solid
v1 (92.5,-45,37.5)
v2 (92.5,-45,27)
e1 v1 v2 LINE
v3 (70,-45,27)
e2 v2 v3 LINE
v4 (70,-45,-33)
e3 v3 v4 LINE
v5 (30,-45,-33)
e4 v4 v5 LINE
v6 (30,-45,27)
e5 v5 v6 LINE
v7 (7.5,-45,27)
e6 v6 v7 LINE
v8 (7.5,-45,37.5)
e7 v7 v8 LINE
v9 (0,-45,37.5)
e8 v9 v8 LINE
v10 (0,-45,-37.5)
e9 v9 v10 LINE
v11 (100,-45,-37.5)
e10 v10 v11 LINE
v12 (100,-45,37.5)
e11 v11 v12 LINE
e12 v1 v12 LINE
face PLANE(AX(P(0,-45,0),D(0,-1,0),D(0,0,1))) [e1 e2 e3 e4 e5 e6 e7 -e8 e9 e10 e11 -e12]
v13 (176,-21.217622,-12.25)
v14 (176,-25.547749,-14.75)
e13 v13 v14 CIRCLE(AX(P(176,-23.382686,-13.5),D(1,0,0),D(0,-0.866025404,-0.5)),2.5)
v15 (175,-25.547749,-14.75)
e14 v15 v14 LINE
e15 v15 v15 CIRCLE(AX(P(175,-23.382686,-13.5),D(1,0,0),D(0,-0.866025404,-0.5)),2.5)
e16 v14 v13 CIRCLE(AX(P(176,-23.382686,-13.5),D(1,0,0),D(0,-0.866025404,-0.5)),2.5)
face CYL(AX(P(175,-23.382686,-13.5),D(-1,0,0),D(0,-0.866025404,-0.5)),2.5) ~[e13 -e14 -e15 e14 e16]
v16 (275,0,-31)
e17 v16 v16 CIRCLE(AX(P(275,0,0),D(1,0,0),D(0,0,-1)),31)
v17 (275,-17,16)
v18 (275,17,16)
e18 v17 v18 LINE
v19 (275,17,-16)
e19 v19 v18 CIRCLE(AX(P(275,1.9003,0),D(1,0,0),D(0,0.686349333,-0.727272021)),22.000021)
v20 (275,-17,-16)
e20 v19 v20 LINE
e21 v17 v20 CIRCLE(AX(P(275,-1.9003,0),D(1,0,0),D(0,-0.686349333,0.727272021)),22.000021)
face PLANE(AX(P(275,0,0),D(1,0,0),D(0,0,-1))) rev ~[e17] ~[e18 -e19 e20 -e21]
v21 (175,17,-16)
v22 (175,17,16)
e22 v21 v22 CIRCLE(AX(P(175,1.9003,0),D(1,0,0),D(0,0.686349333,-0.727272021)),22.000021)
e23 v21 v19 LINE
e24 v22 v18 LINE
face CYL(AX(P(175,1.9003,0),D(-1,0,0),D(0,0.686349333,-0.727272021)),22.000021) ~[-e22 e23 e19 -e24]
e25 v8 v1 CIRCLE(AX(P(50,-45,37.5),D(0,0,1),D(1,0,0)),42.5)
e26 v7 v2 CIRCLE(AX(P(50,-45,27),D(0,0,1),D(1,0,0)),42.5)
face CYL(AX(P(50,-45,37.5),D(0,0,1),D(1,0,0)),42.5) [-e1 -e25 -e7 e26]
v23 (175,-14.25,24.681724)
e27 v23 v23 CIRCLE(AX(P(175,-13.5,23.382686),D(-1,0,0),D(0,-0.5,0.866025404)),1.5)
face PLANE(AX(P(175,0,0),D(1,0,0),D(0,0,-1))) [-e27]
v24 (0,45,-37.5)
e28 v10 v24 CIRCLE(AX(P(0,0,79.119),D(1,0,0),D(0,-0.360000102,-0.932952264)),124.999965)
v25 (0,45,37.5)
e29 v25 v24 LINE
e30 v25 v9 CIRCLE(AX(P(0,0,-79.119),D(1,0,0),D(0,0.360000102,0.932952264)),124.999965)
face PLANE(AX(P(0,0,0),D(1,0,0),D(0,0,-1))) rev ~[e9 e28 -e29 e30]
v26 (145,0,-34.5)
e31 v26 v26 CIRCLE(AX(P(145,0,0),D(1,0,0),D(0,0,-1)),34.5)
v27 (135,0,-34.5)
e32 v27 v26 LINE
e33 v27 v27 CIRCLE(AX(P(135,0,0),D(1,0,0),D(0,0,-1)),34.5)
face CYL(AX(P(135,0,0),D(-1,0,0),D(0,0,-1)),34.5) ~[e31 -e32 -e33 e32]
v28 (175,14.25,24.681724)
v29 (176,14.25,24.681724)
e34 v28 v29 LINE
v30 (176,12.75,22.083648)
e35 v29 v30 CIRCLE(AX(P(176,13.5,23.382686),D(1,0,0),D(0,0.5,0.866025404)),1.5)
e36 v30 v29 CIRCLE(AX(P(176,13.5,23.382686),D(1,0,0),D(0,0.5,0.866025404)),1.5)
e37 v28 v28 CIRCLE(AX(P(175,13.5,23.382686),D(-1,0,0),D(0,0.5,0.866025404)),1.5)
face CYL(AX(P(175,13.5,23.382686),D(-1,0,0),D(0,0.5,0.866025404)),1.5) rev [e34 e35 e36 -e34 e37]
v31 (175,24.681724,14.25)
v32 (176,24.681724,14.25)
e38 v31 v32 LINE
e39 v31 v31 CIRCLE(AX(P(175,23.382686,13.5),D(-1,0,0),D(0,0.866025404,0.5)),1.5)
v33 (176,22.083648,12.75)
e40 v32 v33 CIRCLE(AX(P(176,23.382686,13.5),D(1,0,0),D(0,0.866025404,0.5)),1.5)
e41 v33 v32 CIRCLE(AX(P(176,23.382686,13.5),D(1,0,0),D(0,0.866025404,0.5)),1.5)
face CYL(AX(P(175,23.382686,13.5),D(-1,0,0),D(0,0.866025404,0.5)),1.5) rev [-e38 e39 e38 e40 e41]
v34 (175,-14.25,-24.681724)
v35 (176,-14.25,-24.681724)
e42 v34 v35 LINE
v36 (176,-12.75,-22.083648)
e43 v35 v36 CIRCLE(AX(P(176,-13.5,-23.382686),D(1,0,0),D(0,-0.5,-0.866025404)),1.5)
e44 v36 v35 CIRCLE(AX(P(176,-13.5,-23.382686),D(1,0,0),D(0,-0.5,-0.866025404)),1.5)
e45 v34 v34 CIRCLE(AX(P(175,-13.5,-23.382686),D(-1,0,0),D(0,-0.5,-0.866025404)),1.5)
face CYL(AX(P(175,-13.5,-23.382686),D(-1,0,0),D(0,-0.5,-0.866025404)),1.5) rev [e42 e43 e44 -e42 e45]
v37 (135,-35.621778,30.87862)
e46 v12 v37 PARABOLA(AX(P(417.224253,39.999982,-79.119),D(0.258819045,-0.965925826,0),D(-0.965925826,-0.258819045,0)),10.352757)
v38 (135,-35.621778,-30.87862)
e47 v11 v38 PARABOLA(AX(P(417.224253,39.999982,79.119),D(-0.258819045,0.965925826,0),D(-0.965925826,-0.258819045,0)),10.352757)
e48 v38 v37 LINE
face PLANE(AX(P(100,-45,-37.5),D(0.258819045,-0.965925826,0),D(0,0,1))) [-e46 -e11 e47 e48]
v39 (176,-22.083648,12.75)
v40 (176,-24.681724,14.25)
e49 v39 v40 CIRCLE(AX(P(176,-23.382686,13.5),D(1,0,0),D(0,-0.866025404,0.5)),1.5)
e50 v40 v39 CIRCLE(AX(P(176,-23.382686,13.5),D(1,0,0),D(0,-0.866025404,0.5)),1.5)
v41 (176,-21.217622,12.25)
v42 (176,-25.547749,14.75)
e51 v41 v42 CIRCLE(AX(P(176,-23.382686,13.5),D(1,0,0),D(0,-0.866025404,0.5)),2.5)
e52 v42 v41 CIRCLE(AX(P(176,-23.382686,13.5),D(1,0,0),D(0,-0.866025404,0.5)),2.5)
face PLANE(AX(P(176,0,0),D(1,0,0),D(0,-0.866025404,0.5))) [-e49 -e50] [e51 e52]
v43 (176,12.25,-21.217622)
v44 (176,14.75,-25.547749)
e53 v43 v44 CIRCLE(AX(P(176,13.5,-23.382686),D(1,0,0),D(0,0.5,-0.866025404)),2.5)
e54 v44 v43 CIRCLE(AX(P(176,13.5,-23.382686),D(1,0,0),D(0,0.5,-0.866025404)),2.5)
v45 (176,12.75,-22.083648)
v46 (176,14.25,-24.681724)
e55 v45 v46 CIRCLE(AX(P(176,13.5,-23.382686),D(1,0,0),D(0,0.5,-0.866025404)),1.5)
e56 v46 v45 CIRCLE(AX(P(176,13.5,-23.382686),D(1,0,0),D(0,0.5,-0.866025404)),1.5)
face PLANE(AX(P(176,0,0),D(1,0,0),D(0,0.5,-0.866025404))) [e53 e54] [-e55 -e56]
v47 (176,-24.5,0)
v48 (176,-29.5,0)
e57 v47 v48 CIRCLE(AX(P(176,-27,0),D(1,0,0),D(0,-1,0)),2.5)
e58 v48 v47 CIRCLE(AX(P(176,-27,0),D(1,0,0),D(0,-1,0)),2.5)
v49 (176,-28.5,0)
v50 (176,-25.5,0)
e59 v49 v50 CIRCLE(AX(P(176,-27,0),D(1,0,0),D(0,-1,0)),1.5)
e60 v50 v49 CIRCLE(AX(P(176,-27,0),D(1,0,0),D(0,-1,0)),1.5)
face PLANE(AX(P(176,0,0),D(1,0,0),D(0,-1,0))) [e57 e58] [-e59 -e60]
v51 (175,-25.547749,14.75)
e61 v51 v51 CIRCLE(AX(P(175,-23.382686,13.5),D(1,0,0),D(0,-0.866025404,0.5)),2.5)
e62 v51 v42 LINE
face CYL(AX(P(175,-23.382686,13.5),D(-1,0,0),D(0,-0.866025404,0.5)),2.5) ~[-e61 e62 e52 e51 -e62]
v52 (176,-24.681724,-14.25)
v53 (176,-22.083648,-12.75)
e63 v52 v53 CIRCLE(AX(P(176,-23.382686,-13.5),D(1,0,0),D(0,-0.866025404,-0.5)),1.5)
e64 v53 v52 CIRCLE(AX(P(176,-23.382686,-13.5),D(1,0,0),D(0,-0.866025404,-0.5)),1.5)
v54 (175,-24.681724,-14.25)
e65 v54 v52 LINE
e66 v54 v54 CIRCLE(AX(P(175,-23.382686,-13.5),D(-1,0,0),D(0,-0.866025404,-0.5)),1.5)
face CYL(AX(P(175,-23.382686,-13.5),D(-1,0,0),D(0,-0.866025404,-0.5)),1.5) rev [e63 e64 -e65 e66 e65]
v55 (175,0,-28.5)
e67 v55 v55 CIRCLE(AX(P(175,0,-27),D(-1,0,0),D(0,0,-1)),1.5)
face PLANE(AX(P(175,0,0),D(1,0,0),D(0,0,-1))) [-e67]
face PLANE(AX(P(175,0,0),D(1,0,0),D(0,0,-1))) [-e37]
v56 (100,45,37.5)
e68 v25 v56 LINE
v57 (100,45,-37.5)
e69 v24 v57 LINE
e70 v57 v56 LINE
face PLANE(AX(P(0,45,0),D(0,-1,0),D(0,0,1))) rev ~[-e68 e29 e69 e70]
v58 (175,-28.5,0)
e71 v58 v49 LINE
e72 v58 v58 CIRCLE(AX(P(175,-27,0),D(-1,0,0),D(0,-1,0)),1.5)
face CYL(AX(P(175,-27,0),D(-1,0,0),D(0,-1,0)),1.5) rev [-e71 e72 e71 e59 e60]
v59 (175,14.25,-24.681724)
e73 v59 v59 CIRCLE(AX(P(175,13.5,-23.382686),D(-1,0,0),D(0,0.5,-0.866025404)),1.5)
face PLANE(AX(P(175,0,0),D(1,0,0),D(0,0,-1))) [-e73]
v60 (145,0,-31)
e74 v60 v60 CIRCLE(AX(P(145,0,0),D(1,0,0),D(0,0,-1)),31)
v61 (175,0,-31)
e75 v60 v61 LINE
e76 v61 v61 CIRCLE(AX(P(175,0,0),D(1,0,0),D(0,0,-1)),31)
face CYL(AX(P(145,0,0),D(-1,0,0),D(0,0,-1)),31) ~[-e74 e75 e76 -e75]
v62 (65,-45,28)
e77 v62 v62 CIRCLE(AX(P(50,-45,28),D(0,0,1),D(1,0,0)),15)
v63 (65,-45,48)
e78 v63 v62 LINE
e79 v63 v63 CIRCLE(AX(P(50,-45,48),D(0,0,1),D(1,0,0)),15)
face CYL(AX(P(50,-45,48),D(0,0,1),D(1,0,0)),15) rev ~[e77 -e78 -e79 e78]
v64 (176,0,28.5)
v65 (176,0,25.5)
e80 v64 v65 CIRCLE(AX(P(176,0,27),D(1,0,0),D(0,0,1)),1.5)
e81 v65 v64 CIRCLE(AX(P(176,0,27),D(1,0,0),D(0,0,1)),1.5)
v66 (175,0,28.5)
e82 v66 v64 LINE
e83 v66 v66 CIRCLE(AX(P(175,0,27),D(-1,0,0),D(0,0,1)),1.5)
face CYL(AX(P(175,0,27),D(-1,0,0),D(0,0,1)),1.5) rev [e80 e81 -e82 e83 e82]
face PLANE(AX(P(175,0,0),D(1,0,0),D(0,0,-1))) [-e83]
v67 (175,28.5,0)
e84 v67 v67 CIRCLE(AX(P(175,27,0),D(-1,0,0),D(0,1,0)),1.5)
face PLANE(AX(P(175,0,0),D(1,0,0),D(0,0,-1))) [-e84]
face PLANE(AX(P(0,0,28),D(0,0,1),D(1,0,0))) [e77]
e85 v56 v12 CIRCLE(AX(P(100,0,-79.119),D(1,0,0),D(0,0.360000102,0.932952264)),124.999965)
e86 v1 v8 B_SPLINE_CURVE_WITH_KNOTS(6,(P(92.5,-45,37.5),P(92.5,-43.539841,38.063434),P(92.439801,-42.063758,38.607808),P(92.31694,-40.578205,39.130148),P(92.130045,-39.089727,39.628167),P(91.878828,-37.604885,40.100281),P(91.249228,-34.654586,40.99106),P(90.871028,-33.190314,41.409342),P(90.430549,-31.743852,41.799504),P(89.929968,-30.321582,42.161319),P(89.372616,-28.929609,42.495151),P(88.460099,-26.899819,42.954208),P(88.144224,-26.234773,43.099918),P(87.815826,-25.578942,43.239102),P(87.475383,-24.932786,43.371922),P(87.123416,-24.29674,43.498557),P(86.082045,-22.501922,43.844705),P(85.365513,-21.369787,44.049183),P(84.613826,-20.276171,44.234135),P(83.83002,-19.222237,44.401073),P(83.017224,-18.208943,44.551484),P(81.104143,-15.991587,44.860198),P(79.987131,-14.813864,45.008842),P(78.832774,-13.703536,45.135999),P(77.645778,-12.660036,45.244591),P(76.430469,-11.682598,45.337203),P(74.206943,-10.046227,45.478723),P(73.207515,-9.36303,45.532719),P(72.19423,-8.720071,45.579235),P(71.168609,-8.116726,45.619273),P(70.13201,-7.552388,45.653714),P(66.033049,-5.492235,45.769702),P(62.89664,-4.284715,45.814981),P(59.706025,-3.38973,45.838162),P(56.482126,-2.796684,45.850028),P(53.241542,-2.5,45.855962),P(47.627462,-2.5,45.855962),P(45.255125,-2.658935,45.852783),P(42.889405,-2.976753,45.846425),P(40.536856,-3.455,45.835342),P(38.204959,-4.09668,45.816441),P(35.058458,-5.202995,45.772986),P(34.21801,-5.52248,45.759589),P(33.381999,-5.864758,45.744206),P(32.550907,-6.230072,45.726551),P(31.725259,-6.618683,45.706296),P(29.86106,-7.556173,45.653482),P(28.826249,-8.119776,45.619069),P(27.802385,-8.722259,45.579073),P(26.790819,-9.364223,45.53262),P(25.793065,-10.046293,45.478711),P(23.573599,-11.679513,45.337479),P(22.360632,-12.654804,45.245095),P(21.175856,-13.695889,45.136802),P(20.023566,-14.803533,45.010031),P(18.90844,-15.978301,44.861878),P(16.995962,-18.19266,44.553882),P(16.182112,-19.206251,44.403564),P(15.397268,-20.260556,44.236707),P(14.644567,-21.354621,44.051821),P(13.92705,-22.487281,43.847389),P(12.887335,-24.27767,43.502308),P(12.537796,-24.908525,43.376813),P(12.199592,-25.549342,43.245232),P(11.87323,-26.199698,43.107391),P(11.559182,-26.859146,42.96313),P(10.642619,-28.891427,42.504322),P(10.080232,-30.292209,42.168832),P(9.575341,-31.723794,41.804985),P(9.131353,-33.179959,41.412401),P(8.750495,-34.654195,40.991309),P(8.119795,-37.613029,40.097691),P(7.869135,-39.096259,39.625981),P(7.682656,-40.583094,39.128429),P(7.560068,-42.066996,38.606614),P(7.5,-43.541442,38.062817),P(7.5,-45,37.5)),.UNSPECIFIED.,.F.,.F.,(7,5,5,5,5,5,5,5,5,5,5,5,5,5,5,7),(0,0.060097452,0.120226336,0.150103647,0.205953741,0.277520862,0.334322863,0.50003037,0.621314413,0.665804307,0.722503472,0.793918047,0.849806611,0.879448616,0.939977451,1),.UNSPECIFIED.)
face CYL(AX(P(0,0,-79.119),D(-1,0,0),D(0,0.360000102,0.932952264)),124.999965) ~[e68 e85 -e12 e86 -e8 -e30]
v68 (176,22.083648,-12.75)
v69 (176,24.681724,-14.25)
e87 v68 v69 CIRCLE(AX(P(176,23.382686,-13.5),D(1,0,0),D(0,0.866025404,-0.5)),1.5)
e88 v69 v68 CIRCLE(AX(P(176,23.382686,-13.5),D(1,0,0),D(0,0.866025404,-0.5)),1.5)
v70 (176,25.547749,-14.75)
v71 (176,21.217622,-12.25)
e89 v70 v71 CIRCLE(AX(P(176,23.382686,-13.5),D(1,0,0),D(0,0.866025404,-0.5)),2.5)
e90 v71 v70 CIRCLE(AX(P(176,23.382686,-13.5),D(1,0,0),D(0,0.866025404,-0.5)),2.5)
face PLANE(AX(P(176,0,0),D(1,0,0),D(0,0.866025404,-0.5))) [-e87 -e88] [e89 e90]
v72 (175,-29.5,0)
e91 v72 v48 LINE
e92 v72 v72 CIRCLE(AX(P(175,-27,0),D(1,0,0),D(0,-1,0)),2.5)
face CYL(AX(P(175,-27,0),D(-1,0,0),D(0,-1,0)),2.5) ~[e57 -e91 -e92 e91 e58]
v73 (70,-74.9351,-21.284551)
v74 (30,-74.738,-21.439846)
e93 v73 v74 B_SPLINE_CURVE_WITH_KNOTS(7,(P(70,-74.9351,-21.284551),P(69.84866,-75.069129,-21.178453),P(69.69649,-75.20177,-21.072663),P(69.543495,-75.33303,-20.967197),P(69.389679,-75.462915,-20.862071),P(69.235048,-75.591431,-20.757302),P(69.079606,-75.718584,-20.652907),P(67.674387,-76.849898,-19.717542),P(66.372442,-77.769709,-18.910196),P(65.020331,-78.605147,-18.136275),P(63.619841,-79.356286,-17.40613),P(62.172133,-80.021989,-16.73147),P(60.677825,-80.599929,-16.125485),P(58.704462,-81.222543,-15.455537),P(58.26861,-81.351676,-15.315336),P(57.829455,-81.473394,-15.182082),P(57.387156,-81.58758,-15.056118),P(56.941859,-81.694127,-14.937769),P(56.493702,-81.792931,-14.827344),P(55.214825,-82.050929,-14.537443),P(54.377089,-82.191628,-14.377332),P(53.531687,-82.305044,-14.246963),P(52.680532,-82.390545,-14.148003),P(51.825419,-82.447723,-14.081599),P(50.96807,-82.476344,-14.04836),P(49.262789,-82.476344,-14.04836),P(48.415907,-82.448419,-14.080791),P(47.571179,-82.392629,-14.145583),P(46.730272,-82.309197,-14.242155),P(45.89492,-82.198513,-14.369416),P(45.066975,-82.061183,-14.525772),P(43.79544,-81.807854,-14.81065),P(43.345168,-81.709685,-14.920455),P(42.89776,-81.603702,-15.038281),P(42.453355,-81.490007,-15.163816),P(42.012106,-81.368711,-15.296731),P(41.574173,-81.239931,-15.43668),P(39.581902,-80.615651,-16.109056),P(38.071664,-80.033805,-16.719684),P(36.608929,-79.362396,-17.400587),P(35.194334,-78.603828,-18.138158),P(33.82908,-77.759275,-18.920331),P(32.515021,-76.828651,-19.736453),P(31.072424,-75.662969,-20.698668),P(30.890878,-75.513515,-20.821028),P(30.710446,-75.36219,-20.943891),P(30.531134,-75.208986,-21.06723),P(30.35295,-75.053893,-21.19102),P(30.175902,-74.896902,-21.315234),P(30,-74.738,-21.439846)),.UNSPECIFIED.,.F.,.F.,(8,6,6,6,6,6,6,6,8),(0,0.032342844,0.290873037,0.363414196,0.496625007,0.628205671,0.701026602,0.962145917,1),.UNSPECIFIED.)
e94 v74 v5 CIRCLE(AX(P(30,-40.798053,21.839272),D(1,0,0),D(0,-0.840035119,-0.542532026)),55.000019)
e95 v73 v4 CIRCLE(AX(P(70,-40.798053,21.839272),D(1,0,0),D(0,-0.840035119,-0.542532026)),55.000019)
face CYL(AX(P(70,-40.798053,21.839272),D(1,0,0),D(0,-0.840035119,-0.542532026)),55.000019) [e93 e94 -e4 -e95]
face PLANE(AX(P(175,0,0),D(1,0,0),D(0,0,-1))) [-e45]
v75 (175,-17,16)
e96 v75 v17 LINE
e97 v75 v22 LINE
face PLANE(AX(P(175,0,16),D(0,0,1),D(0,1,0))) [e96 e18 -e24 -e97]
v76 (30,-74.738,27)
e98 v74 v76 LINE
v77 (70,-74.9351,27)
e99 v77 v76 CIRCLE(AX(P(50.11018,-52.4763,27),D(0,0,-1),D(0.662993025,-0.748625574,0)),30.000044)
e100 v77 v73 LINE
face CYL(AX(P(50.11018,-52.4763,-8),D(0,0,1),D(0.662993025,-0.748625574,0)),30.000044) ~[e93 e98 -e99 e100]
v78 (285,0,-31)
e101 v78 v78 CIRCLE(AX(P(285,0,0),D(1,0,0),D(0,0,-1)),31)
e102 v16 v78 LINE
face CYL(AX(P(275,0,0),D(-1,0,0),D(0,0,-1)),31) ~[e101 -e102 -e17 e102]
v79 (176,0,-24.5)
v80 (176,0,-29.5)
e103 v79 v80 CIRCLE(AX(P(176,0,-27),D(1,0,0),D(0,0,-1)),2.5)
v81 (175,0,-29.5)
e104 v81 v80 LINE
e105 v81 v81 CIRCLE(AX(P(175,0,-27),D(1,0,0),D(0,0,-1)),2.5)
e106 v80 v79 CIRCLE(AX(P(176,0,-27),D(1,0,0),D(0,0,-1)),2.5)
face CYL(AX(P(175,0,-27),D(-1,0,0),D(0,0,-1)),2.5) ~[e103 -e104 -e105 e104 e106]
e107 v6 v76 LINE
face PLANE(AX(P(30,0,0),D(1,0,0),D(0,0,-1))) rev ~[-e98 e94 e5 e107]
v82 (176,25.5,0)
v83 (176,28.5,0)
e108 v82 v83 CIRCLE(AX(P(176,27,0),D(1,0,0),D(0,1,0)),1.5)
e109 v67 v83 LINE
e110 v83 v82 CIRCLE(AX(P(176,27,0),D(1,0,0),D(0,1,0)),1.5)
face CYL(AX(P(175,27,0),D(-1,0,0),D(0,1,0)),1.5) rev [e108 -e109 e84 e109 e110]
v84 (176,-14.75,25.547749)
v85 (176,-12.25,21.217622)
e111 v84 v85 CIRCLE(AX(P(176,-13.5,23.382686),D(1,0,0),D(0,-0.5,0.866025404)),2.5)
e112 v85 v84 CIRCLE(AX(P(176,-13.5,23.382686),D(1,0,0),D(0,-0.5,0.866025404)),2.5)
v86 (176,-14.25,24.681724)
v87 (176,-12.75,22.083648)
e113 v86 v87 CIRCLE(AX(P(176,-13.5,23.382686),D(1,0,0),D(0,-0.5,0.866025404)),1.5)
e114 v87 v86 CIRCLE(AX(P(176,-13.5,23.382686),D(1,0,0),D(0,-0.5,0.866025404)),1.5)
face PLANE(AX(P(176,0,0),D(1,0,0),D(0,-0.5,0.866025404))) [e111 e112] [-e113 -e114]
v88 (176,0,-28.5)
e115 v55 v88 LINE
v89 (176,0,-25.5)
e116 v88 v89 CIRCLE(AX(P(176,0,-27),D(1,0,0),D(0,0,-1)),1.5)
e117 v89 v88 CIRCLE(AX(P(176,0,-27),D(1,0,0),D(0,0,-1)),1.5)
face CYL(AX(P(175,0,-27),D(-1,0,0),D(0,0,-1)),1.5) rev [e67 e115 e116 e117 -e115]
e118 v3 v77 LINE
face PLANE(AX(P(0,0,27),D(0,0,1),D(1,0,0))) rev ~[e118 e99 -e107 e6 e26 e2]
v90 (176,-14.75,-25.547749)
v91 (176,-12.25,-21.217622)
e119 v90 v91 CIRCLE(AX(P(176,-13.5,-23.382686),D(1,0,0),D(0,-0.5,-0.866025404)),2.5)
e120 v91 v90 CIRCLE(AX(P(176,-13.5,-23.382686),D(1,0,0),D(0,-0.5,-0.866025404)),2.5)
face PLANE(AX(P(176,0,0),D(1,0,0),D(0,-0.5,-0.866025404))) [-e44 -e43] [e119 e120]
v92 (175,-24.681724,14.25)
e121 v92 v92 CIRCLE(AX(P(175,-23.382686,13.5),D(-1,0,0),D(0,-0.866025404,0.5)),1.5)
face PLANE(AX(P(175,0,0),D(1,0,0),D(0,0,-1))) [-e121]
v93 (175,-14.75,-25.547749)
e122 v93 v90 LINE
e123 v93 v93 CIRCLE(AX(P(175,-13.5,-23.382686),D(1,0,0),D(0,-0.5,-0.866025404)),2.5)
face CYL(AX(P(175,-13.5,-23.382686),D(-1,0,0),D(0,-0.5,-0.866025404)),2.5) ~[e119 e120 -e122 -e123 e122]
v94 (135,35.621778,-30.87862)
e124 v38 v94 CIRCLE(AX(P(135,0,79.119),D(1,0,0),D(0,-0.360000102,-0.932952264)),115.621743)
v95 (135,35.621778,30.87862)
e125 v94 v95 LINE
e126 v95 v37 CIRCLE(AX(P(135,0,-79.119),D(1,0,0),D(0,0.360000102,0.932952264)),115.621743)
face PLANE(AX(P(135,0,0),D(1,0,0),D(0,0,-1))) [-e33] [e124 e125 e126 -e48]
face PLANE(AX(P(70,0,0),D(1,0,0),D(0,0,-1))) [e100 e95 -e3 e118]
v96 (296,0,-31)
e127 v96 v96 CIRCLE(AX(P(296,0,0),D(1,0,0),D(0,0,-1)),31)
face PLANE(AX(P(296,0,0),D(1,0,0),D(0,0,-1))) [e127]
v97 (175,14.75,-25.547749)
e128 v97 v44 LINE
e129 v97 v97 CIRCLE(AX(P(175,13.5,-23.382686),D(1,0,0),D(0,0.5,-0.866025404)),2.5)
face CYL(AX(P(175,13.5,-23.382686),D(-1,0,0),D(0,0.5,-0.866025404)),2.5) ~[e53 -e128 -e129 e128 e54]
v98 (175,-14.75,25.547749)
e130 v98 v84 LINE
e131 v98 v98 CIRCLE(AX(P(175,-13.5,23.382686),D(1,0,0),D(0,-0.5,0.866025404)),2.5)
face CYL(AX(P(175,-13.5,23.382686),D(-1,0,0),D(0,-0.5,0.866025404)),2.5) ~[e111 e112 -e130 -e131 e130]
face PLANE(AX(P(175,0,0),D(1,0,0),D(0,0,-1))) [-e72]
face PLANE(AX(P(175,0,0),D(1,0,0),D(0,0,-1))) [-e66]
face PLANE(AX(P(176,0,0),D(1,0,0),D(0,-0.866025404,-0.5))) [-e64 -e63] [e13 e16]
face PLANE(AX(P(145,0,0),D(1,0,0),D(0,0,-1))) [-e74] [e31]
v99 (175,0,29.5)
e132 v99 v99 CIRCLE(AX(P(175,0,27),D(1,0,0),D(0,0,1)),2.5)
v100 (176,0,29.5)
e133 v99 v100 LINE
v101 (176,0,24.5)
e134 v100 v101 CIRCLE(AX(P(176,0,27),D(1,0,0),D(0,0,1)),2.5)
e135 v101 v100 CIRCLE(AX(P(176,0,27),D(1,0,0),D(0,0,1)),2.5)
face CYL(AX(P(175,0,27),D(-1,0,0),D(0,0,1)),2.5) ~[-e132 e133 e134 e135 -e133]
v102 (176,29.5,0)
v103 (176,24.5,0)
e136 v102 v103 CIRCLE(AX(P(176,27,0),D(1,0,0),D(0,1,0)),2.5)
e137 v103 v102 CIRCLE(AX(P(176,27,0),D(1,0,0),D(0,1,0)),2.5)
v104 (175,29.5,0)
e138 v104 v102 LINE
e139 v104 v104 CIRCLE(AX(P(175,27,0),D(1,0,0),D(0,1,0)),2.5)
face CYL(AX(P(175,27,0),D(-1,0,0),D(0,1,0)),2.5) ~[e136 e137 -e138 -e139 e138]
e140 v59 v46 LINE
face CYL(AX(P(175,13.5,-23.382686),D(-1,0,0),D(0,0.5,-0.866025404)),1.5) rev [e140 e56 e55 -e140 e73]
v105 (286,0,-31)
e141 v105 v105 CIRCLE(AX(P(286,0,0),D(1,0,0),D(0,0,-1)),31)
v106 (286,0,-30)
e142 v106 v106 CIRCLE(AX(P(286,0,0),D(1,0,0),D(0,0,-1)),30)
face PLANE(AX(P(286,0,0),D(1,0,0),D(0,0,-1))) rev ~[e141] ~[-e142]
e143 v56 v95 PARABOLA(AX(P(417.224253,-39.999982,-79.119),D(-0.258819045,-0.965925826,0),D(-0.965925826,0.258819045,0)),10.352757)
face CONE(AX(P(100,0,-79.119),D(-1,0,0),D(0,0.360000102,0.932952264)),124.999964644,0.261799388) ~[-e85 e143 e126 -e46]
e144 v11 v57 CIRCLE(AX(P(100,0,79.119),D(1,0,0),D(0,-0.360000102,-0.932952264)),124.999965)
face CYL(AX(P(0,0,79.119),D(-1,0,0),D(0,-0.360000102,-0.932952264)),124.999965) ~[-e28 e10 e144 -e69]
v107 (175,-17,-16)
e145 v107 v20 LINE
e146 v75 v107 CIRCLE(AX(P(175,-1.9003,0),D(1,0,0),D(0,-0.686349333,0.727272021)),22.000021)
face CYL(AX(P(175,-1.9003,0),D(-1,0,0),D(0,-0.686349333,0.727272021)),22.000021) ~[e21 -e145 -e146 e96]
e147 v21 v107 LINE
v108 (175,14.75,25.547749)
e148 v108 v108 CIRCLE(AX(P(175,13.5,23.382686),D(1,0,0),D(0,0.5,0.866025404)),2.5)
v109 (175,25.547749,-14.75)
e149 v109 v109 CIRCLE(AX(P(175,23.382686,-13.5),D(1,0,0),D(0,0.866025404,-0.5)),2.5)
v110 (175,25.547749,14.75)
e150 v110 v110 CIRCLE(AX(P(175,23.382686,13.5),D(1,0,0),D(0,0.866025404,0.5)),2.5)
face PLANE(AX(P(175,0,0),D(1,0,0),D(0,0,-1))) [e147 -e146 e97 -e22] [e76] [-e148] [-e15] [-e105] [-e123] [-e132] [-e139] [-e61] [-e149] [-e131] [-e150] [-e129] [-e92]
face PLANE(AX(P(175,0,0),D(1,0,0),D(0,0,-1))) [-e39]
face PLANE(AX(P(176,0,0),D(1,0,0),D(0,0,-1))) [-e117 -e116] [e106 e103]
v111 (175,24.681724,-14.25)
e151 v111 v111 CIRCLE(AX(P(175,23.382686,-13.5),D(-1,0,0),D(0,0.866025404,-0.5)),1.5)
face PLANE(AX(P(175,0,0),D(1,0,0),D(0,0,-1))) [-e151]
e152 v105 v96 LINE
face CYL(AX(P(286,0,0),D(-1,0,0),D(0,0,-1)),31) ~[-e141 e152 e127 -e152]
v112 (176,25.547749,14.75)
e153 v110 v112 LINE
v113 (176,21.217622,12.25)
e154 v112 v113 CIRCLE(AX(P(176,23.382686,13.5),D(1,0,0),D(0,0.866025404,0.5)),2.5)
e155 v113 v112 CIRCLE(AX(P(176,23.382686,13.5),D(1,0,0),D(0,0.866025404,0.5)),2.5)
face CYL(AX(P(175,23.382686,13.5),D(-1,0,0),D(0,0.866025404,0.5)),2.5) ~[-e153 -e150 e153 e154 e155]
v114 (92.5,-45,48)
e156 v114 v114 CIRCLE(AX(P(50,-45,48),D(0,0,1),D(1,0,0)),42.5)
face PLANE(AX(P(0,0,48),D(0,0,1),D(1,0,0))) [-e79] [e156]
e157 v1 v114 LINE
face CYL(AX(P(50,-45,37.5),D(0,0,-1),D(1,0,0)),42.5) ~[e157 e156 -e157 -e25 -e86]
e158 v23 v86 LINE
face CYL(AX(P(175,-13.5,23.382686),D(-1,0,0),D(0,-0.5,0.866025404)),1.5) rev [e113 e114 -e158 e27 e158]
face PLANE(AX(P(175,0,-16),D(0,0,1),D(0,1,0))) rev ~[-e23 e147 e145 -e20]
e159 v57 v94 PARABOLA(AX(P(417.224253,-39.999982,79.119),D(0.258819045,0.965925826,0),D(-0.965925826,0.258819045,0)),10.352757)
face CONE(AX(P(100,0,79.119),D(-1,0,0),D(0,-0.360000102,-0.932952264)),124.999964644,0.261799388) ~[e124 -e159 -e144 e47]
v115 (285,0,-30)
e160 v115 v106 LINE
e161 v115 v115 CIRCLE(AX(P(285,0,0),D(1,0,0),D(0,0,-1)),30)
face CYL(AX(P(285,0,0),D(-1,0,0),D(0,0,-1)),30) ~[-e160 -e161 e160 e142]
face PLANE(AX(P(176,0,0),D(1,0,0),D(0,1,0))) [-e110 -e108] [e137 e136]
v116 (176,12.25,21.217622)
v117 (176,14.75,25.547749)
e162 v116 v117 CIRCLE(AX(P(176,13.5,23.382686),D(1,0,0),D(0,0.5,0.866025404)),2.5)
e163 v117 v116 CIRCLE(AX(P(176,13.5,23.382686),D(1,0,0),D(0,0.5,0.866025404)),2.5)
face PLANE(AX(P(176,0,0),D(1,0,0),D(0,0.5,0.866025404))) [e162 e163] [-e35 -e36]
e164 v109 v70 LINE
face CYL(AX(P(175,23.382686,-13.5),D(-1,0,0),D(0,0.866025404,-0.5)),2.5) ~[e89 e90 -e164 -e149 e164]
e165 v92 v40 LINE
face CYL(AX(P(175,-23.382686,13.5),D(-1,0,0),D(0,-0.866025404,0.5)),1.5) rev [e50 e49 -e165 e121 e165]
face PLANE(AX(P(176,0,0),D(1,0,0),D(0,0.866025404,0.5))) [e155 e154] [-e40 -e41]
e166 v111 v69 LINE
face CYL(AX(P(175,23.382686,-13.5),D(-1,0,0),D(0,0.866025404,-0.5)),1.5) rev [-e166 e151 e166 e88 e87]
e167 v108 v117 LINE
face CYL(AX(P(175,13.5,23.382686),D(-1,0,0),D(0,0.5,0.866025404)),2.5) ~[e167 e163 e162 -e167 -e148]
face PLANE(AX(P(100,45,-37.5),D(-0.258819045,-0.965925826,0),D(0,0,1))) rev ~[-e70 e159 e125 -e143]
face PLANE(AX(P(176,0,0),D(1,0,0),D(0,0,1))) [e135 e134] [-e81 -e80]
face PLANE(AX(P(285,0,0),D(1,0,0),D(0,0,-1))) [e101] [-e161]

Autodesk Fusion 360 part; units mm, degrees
sketch "Sketch1" plane through (0, 0, 0) normal (1, 0, 0) x (0, 0, -1)
  line L0 (0, 0) -> (0, 45)
  line L1 (0, 0) -> (0, -45)
  line L2 (0, 45) -> (37.5, 45)
  line L3 (0, 45) -> (-37.5, 45)
  line L4 (0, -45) -> (37.5, -45)
  line L5 (0, -45) -> (-37.5, -45)
  arc A0 (-37.5, 45) -> (-37.5, -45) centre (79.119, 0) ccw
  arc A1 (37.5, -45) -> (37.5, 45) centre (-79.119, 0) ccw
  dimension "d1" = 45
  dimension "d2" = 45
  dimension "d3" = 37.5
  dimension "d4" = 37.5
  dimension "d5" = 37.5
  dimension "d6" = 37.5
  dimension "d8" = 125
extrude "Extrude1" add sketch "Sketch1" along normal blind 100
extrude "Extrude2" add 1 faces at (100, 3.0661, -15.1807) along direction (1, 0, 0) blind 35 draft -15
sketch "Sketch2" plane through (135, 0, 0) normal (1, 0, 0) x (0, 0, -1)
  line L0 (-30.8786, -35.6218) -> (30.8786, -35.6218)
  arc A0 (30.8786, -35.6218) -> (30.8786, 35.6218) centre (-79.119, 0) ccw
  line L1 (30.8786, 35.6218) -> (-30.8786, 35.6218)
  arc A1 (-30.8786, 35.6218) -> (-30.8786, -35.6218) centre (79.119, 0) ccw
  circle A2 centre (0, 0) radius 34.5
  dimension "d13" = 69
extrude "Extrude3" add sketch "Sketch2" along normal blind 10 contours A2
sketch "Sketch3" plane through (145, 0, 0) normal (1, 0, 0) x (0, 0, -1)
  circle A0 centre (0, 0) radius 34.5
  circle A1 centre (0, 0) radius 31
  dimension "d16" = 62
extrude "Extrude4" add sketch "Sketch3" along normal blind 30 contours A1
sketch "Sketch4" plane through (175, 0, 0) normal (1, 0, 0) x (0, 0, -1)
  circle A0 centre (0, 0) radius 31
  line L0 (0, 0) -> (27, 0)
  circle A1 centre (27, 0) radius 2.5
  circle A2 centre (27, 0) radius 1.5
  dimension "d19" = 27
  dimension "d20" = 5
  dimension "d21" = -1
extrude "Extrude5" add sketch "Sketch4" along normal blind 1 contours A1
pattern_circular "C-Pattern1" count 12 over 360 about axis through (175, 0, 0) along (1, 0, 0) of "Extrude5"
sketch "Sketch5" plane through (175, 0, 0) normal (1, 0, 0) x (0, 0, -1)
  circle A0 centre (27, 0) radius 2.5
  circle A1 centre (0, 0) radius 31
  circle A2 centre (23.3827, 13.5) radius 2.5
  circle A3 centre (13.5, 23.3827) radius 2.5
  circle A4 centre (0, 27) radius 2.5
  circle A5 centre (-13.5, 23.3827) radius 2.5
  circle A6 centre (-23.3827, 13.5) radius 2.5
  circle A7 centre (-27, 0) radius 2.5
  circle A8 centre (-23.3827, -13.5) radius 2.5
  circle A9 centre (-13.5, -23.3827) radius 2.5
  circle A10 centre (0, -27) radius 2.5
  circle A11 centre (13.5, -23.3827) radius 2.5
  circle A12 centre (23.3827, -13.5) radius 2.5
  line L0 (0, 0) -> (16, 0)
  line L1 (16, 0) -> (16, 17)
  line L2 (16, 0) -> (16, -17)
  line L3 (0, 0) -> (0, -8.0593)
  line L4 (-16, 0) -> (-16, 17)
  line L5 (-16, 0) -> (-16, -17)
  arc A13 (16, 17) -> (-16, 17) centre (0, 1.9003) ccw
  arc A14 (-16, -17) -> (16, -17) centre (0, -1.9003) ccw
  dimension "d26" = 16
  dimension "d27" = 17
  dimension "d28" = 17
  dimension "d29" = 22
extrude "Extrude6" add sketch "Sketch5" along normal blind 100 contours L1 L2 L4 L5 A13 A14
sketch "Sketch6" plane through (275, 0, 0) normal (1, 0, 0) x (0, 0, -1)
  line L0 (-16, 17) -> (-16, -17)
  arc A0 (-16, -17) -> (16, -17) centre (0, -1.9003) ccw
  line L1 (16, -17) -> (16, 17)
  arc A1 (16, 17) -> (-16, 17) centre (0, 1.9003) ccw
  circle A2 centre (0, 0) radius 31
  circle A3 centre (0, 0) radius 30
  dimension "d32" = 62
  dimension "d35" = -1
extrude "Extrude7" add sketch "Sketch6" along normal blind 10 contours L0 A0 L1 A1 | A2 | A3
sketch "Sketch7" plane through (285, 0, 0) normal (1, 0, 0) x (0, 0, -1)
  circle A0 centre (0, 0) radius 31
  circle A1 centre (0, 0) radius 30
  dimension "d36" = -1
extrude "Extrude8" add sketch "Sketch7" along normal blind 1 contours A1
sketch "Sketch8" plane through (286, 0, 0) normal (1, 0, 0) x (0, 0, -1)
  circle A0 centre (0, 0) radius 30
  circle A1 centre (0, 0) radius 31
  dimension "d39" = 62
extrude "Extrude9" add sketch "Sketch8" along normal blind 10 contours A0 | A1
ref_plane "WorkPlane1" through (0, 45, 37.5) normal (0, 0, 1) x (1, 0, 0)
sketch "Sketch9" plane through (0, 0, 37.5) normal (0, 0, 1) x (1, 0, 0)
  circle A0 centre (50, -45) radius 42.5
  dimension "d43" = 85
extrude "Extrude10" add sketch "Sketch9" along normal mid plane 21
sketch "Sketch10" plane through (0, 0, 27) normal (0, 0, -1) x (-1, 0, 0)
  line L0 (-7.5, -45) -> (-92.5, -45)
  arc A0 (-92.5, -45) -> (-7.5, -45) centre (-50, -45) ccw
  line L1 (-50, -45) -> (-50, -75)
  line L2 (-70, -45) -> (-70, -74.9351)
  line L3 (-30, -45) -> (-30, -74.738)
  arc A1 (-70, -74.9351) -> (-30, -74.738) centre (-50.1102, -52.4763) ccw
  dimension "d46" = 30
  dimension "d47" = 20
  dimension "d48" = -20
  dimension "d49" = 30
extrude "Extrude11" add sketch "Sketch10" along normal blind 35 contours L0 L2 L3 A1
sketch "Sketch11" plane through (70, 0, 0) normal (1, 0, 0) x (0, 0, -1)
  line L0 (-27, -45) -> (-27, -74.9351)
  line L1 (-27, -74.9351) -> (8, -74.9351)
  line L2 (8, -74.9351) -> (8, -45)
  line L3 (8, -45) -> (-27, -45)
  line L4 (8, -45) -> (33, -45)
  arc A0 (8, -87) -> (33, -45) centre (-21.8393, -40.7981) ccw
  line L5 (8, -45) -> (8, -87)
  dimension "d52" = 25
  dimension "d54" = 55
extrude "Extrude12" add sketch "Sketch11" against normal blind 40 contours L2 L4 A0 L5
extrude "Extrude13" cut 2 faces at (50.0367, -85.4921, -8) (30.0733, -74.8695, -8) along direction (0, 0, -1) blind 40
sketch "SideDiskHoleSketch" plane through (0, 0, 48) normal (0, 0, 1) x (1, 0, 0)
  circle A0 centre (50, -45) radius 42.5
  circle A1 centre (50, -45) radius 15
extrude "SideDiskHoleCut" cut sketch "SideDiskHoleSketch" against normal blind 20 contours A1
equation "d44 = ( 21 / 2 ) * 1 mm"
